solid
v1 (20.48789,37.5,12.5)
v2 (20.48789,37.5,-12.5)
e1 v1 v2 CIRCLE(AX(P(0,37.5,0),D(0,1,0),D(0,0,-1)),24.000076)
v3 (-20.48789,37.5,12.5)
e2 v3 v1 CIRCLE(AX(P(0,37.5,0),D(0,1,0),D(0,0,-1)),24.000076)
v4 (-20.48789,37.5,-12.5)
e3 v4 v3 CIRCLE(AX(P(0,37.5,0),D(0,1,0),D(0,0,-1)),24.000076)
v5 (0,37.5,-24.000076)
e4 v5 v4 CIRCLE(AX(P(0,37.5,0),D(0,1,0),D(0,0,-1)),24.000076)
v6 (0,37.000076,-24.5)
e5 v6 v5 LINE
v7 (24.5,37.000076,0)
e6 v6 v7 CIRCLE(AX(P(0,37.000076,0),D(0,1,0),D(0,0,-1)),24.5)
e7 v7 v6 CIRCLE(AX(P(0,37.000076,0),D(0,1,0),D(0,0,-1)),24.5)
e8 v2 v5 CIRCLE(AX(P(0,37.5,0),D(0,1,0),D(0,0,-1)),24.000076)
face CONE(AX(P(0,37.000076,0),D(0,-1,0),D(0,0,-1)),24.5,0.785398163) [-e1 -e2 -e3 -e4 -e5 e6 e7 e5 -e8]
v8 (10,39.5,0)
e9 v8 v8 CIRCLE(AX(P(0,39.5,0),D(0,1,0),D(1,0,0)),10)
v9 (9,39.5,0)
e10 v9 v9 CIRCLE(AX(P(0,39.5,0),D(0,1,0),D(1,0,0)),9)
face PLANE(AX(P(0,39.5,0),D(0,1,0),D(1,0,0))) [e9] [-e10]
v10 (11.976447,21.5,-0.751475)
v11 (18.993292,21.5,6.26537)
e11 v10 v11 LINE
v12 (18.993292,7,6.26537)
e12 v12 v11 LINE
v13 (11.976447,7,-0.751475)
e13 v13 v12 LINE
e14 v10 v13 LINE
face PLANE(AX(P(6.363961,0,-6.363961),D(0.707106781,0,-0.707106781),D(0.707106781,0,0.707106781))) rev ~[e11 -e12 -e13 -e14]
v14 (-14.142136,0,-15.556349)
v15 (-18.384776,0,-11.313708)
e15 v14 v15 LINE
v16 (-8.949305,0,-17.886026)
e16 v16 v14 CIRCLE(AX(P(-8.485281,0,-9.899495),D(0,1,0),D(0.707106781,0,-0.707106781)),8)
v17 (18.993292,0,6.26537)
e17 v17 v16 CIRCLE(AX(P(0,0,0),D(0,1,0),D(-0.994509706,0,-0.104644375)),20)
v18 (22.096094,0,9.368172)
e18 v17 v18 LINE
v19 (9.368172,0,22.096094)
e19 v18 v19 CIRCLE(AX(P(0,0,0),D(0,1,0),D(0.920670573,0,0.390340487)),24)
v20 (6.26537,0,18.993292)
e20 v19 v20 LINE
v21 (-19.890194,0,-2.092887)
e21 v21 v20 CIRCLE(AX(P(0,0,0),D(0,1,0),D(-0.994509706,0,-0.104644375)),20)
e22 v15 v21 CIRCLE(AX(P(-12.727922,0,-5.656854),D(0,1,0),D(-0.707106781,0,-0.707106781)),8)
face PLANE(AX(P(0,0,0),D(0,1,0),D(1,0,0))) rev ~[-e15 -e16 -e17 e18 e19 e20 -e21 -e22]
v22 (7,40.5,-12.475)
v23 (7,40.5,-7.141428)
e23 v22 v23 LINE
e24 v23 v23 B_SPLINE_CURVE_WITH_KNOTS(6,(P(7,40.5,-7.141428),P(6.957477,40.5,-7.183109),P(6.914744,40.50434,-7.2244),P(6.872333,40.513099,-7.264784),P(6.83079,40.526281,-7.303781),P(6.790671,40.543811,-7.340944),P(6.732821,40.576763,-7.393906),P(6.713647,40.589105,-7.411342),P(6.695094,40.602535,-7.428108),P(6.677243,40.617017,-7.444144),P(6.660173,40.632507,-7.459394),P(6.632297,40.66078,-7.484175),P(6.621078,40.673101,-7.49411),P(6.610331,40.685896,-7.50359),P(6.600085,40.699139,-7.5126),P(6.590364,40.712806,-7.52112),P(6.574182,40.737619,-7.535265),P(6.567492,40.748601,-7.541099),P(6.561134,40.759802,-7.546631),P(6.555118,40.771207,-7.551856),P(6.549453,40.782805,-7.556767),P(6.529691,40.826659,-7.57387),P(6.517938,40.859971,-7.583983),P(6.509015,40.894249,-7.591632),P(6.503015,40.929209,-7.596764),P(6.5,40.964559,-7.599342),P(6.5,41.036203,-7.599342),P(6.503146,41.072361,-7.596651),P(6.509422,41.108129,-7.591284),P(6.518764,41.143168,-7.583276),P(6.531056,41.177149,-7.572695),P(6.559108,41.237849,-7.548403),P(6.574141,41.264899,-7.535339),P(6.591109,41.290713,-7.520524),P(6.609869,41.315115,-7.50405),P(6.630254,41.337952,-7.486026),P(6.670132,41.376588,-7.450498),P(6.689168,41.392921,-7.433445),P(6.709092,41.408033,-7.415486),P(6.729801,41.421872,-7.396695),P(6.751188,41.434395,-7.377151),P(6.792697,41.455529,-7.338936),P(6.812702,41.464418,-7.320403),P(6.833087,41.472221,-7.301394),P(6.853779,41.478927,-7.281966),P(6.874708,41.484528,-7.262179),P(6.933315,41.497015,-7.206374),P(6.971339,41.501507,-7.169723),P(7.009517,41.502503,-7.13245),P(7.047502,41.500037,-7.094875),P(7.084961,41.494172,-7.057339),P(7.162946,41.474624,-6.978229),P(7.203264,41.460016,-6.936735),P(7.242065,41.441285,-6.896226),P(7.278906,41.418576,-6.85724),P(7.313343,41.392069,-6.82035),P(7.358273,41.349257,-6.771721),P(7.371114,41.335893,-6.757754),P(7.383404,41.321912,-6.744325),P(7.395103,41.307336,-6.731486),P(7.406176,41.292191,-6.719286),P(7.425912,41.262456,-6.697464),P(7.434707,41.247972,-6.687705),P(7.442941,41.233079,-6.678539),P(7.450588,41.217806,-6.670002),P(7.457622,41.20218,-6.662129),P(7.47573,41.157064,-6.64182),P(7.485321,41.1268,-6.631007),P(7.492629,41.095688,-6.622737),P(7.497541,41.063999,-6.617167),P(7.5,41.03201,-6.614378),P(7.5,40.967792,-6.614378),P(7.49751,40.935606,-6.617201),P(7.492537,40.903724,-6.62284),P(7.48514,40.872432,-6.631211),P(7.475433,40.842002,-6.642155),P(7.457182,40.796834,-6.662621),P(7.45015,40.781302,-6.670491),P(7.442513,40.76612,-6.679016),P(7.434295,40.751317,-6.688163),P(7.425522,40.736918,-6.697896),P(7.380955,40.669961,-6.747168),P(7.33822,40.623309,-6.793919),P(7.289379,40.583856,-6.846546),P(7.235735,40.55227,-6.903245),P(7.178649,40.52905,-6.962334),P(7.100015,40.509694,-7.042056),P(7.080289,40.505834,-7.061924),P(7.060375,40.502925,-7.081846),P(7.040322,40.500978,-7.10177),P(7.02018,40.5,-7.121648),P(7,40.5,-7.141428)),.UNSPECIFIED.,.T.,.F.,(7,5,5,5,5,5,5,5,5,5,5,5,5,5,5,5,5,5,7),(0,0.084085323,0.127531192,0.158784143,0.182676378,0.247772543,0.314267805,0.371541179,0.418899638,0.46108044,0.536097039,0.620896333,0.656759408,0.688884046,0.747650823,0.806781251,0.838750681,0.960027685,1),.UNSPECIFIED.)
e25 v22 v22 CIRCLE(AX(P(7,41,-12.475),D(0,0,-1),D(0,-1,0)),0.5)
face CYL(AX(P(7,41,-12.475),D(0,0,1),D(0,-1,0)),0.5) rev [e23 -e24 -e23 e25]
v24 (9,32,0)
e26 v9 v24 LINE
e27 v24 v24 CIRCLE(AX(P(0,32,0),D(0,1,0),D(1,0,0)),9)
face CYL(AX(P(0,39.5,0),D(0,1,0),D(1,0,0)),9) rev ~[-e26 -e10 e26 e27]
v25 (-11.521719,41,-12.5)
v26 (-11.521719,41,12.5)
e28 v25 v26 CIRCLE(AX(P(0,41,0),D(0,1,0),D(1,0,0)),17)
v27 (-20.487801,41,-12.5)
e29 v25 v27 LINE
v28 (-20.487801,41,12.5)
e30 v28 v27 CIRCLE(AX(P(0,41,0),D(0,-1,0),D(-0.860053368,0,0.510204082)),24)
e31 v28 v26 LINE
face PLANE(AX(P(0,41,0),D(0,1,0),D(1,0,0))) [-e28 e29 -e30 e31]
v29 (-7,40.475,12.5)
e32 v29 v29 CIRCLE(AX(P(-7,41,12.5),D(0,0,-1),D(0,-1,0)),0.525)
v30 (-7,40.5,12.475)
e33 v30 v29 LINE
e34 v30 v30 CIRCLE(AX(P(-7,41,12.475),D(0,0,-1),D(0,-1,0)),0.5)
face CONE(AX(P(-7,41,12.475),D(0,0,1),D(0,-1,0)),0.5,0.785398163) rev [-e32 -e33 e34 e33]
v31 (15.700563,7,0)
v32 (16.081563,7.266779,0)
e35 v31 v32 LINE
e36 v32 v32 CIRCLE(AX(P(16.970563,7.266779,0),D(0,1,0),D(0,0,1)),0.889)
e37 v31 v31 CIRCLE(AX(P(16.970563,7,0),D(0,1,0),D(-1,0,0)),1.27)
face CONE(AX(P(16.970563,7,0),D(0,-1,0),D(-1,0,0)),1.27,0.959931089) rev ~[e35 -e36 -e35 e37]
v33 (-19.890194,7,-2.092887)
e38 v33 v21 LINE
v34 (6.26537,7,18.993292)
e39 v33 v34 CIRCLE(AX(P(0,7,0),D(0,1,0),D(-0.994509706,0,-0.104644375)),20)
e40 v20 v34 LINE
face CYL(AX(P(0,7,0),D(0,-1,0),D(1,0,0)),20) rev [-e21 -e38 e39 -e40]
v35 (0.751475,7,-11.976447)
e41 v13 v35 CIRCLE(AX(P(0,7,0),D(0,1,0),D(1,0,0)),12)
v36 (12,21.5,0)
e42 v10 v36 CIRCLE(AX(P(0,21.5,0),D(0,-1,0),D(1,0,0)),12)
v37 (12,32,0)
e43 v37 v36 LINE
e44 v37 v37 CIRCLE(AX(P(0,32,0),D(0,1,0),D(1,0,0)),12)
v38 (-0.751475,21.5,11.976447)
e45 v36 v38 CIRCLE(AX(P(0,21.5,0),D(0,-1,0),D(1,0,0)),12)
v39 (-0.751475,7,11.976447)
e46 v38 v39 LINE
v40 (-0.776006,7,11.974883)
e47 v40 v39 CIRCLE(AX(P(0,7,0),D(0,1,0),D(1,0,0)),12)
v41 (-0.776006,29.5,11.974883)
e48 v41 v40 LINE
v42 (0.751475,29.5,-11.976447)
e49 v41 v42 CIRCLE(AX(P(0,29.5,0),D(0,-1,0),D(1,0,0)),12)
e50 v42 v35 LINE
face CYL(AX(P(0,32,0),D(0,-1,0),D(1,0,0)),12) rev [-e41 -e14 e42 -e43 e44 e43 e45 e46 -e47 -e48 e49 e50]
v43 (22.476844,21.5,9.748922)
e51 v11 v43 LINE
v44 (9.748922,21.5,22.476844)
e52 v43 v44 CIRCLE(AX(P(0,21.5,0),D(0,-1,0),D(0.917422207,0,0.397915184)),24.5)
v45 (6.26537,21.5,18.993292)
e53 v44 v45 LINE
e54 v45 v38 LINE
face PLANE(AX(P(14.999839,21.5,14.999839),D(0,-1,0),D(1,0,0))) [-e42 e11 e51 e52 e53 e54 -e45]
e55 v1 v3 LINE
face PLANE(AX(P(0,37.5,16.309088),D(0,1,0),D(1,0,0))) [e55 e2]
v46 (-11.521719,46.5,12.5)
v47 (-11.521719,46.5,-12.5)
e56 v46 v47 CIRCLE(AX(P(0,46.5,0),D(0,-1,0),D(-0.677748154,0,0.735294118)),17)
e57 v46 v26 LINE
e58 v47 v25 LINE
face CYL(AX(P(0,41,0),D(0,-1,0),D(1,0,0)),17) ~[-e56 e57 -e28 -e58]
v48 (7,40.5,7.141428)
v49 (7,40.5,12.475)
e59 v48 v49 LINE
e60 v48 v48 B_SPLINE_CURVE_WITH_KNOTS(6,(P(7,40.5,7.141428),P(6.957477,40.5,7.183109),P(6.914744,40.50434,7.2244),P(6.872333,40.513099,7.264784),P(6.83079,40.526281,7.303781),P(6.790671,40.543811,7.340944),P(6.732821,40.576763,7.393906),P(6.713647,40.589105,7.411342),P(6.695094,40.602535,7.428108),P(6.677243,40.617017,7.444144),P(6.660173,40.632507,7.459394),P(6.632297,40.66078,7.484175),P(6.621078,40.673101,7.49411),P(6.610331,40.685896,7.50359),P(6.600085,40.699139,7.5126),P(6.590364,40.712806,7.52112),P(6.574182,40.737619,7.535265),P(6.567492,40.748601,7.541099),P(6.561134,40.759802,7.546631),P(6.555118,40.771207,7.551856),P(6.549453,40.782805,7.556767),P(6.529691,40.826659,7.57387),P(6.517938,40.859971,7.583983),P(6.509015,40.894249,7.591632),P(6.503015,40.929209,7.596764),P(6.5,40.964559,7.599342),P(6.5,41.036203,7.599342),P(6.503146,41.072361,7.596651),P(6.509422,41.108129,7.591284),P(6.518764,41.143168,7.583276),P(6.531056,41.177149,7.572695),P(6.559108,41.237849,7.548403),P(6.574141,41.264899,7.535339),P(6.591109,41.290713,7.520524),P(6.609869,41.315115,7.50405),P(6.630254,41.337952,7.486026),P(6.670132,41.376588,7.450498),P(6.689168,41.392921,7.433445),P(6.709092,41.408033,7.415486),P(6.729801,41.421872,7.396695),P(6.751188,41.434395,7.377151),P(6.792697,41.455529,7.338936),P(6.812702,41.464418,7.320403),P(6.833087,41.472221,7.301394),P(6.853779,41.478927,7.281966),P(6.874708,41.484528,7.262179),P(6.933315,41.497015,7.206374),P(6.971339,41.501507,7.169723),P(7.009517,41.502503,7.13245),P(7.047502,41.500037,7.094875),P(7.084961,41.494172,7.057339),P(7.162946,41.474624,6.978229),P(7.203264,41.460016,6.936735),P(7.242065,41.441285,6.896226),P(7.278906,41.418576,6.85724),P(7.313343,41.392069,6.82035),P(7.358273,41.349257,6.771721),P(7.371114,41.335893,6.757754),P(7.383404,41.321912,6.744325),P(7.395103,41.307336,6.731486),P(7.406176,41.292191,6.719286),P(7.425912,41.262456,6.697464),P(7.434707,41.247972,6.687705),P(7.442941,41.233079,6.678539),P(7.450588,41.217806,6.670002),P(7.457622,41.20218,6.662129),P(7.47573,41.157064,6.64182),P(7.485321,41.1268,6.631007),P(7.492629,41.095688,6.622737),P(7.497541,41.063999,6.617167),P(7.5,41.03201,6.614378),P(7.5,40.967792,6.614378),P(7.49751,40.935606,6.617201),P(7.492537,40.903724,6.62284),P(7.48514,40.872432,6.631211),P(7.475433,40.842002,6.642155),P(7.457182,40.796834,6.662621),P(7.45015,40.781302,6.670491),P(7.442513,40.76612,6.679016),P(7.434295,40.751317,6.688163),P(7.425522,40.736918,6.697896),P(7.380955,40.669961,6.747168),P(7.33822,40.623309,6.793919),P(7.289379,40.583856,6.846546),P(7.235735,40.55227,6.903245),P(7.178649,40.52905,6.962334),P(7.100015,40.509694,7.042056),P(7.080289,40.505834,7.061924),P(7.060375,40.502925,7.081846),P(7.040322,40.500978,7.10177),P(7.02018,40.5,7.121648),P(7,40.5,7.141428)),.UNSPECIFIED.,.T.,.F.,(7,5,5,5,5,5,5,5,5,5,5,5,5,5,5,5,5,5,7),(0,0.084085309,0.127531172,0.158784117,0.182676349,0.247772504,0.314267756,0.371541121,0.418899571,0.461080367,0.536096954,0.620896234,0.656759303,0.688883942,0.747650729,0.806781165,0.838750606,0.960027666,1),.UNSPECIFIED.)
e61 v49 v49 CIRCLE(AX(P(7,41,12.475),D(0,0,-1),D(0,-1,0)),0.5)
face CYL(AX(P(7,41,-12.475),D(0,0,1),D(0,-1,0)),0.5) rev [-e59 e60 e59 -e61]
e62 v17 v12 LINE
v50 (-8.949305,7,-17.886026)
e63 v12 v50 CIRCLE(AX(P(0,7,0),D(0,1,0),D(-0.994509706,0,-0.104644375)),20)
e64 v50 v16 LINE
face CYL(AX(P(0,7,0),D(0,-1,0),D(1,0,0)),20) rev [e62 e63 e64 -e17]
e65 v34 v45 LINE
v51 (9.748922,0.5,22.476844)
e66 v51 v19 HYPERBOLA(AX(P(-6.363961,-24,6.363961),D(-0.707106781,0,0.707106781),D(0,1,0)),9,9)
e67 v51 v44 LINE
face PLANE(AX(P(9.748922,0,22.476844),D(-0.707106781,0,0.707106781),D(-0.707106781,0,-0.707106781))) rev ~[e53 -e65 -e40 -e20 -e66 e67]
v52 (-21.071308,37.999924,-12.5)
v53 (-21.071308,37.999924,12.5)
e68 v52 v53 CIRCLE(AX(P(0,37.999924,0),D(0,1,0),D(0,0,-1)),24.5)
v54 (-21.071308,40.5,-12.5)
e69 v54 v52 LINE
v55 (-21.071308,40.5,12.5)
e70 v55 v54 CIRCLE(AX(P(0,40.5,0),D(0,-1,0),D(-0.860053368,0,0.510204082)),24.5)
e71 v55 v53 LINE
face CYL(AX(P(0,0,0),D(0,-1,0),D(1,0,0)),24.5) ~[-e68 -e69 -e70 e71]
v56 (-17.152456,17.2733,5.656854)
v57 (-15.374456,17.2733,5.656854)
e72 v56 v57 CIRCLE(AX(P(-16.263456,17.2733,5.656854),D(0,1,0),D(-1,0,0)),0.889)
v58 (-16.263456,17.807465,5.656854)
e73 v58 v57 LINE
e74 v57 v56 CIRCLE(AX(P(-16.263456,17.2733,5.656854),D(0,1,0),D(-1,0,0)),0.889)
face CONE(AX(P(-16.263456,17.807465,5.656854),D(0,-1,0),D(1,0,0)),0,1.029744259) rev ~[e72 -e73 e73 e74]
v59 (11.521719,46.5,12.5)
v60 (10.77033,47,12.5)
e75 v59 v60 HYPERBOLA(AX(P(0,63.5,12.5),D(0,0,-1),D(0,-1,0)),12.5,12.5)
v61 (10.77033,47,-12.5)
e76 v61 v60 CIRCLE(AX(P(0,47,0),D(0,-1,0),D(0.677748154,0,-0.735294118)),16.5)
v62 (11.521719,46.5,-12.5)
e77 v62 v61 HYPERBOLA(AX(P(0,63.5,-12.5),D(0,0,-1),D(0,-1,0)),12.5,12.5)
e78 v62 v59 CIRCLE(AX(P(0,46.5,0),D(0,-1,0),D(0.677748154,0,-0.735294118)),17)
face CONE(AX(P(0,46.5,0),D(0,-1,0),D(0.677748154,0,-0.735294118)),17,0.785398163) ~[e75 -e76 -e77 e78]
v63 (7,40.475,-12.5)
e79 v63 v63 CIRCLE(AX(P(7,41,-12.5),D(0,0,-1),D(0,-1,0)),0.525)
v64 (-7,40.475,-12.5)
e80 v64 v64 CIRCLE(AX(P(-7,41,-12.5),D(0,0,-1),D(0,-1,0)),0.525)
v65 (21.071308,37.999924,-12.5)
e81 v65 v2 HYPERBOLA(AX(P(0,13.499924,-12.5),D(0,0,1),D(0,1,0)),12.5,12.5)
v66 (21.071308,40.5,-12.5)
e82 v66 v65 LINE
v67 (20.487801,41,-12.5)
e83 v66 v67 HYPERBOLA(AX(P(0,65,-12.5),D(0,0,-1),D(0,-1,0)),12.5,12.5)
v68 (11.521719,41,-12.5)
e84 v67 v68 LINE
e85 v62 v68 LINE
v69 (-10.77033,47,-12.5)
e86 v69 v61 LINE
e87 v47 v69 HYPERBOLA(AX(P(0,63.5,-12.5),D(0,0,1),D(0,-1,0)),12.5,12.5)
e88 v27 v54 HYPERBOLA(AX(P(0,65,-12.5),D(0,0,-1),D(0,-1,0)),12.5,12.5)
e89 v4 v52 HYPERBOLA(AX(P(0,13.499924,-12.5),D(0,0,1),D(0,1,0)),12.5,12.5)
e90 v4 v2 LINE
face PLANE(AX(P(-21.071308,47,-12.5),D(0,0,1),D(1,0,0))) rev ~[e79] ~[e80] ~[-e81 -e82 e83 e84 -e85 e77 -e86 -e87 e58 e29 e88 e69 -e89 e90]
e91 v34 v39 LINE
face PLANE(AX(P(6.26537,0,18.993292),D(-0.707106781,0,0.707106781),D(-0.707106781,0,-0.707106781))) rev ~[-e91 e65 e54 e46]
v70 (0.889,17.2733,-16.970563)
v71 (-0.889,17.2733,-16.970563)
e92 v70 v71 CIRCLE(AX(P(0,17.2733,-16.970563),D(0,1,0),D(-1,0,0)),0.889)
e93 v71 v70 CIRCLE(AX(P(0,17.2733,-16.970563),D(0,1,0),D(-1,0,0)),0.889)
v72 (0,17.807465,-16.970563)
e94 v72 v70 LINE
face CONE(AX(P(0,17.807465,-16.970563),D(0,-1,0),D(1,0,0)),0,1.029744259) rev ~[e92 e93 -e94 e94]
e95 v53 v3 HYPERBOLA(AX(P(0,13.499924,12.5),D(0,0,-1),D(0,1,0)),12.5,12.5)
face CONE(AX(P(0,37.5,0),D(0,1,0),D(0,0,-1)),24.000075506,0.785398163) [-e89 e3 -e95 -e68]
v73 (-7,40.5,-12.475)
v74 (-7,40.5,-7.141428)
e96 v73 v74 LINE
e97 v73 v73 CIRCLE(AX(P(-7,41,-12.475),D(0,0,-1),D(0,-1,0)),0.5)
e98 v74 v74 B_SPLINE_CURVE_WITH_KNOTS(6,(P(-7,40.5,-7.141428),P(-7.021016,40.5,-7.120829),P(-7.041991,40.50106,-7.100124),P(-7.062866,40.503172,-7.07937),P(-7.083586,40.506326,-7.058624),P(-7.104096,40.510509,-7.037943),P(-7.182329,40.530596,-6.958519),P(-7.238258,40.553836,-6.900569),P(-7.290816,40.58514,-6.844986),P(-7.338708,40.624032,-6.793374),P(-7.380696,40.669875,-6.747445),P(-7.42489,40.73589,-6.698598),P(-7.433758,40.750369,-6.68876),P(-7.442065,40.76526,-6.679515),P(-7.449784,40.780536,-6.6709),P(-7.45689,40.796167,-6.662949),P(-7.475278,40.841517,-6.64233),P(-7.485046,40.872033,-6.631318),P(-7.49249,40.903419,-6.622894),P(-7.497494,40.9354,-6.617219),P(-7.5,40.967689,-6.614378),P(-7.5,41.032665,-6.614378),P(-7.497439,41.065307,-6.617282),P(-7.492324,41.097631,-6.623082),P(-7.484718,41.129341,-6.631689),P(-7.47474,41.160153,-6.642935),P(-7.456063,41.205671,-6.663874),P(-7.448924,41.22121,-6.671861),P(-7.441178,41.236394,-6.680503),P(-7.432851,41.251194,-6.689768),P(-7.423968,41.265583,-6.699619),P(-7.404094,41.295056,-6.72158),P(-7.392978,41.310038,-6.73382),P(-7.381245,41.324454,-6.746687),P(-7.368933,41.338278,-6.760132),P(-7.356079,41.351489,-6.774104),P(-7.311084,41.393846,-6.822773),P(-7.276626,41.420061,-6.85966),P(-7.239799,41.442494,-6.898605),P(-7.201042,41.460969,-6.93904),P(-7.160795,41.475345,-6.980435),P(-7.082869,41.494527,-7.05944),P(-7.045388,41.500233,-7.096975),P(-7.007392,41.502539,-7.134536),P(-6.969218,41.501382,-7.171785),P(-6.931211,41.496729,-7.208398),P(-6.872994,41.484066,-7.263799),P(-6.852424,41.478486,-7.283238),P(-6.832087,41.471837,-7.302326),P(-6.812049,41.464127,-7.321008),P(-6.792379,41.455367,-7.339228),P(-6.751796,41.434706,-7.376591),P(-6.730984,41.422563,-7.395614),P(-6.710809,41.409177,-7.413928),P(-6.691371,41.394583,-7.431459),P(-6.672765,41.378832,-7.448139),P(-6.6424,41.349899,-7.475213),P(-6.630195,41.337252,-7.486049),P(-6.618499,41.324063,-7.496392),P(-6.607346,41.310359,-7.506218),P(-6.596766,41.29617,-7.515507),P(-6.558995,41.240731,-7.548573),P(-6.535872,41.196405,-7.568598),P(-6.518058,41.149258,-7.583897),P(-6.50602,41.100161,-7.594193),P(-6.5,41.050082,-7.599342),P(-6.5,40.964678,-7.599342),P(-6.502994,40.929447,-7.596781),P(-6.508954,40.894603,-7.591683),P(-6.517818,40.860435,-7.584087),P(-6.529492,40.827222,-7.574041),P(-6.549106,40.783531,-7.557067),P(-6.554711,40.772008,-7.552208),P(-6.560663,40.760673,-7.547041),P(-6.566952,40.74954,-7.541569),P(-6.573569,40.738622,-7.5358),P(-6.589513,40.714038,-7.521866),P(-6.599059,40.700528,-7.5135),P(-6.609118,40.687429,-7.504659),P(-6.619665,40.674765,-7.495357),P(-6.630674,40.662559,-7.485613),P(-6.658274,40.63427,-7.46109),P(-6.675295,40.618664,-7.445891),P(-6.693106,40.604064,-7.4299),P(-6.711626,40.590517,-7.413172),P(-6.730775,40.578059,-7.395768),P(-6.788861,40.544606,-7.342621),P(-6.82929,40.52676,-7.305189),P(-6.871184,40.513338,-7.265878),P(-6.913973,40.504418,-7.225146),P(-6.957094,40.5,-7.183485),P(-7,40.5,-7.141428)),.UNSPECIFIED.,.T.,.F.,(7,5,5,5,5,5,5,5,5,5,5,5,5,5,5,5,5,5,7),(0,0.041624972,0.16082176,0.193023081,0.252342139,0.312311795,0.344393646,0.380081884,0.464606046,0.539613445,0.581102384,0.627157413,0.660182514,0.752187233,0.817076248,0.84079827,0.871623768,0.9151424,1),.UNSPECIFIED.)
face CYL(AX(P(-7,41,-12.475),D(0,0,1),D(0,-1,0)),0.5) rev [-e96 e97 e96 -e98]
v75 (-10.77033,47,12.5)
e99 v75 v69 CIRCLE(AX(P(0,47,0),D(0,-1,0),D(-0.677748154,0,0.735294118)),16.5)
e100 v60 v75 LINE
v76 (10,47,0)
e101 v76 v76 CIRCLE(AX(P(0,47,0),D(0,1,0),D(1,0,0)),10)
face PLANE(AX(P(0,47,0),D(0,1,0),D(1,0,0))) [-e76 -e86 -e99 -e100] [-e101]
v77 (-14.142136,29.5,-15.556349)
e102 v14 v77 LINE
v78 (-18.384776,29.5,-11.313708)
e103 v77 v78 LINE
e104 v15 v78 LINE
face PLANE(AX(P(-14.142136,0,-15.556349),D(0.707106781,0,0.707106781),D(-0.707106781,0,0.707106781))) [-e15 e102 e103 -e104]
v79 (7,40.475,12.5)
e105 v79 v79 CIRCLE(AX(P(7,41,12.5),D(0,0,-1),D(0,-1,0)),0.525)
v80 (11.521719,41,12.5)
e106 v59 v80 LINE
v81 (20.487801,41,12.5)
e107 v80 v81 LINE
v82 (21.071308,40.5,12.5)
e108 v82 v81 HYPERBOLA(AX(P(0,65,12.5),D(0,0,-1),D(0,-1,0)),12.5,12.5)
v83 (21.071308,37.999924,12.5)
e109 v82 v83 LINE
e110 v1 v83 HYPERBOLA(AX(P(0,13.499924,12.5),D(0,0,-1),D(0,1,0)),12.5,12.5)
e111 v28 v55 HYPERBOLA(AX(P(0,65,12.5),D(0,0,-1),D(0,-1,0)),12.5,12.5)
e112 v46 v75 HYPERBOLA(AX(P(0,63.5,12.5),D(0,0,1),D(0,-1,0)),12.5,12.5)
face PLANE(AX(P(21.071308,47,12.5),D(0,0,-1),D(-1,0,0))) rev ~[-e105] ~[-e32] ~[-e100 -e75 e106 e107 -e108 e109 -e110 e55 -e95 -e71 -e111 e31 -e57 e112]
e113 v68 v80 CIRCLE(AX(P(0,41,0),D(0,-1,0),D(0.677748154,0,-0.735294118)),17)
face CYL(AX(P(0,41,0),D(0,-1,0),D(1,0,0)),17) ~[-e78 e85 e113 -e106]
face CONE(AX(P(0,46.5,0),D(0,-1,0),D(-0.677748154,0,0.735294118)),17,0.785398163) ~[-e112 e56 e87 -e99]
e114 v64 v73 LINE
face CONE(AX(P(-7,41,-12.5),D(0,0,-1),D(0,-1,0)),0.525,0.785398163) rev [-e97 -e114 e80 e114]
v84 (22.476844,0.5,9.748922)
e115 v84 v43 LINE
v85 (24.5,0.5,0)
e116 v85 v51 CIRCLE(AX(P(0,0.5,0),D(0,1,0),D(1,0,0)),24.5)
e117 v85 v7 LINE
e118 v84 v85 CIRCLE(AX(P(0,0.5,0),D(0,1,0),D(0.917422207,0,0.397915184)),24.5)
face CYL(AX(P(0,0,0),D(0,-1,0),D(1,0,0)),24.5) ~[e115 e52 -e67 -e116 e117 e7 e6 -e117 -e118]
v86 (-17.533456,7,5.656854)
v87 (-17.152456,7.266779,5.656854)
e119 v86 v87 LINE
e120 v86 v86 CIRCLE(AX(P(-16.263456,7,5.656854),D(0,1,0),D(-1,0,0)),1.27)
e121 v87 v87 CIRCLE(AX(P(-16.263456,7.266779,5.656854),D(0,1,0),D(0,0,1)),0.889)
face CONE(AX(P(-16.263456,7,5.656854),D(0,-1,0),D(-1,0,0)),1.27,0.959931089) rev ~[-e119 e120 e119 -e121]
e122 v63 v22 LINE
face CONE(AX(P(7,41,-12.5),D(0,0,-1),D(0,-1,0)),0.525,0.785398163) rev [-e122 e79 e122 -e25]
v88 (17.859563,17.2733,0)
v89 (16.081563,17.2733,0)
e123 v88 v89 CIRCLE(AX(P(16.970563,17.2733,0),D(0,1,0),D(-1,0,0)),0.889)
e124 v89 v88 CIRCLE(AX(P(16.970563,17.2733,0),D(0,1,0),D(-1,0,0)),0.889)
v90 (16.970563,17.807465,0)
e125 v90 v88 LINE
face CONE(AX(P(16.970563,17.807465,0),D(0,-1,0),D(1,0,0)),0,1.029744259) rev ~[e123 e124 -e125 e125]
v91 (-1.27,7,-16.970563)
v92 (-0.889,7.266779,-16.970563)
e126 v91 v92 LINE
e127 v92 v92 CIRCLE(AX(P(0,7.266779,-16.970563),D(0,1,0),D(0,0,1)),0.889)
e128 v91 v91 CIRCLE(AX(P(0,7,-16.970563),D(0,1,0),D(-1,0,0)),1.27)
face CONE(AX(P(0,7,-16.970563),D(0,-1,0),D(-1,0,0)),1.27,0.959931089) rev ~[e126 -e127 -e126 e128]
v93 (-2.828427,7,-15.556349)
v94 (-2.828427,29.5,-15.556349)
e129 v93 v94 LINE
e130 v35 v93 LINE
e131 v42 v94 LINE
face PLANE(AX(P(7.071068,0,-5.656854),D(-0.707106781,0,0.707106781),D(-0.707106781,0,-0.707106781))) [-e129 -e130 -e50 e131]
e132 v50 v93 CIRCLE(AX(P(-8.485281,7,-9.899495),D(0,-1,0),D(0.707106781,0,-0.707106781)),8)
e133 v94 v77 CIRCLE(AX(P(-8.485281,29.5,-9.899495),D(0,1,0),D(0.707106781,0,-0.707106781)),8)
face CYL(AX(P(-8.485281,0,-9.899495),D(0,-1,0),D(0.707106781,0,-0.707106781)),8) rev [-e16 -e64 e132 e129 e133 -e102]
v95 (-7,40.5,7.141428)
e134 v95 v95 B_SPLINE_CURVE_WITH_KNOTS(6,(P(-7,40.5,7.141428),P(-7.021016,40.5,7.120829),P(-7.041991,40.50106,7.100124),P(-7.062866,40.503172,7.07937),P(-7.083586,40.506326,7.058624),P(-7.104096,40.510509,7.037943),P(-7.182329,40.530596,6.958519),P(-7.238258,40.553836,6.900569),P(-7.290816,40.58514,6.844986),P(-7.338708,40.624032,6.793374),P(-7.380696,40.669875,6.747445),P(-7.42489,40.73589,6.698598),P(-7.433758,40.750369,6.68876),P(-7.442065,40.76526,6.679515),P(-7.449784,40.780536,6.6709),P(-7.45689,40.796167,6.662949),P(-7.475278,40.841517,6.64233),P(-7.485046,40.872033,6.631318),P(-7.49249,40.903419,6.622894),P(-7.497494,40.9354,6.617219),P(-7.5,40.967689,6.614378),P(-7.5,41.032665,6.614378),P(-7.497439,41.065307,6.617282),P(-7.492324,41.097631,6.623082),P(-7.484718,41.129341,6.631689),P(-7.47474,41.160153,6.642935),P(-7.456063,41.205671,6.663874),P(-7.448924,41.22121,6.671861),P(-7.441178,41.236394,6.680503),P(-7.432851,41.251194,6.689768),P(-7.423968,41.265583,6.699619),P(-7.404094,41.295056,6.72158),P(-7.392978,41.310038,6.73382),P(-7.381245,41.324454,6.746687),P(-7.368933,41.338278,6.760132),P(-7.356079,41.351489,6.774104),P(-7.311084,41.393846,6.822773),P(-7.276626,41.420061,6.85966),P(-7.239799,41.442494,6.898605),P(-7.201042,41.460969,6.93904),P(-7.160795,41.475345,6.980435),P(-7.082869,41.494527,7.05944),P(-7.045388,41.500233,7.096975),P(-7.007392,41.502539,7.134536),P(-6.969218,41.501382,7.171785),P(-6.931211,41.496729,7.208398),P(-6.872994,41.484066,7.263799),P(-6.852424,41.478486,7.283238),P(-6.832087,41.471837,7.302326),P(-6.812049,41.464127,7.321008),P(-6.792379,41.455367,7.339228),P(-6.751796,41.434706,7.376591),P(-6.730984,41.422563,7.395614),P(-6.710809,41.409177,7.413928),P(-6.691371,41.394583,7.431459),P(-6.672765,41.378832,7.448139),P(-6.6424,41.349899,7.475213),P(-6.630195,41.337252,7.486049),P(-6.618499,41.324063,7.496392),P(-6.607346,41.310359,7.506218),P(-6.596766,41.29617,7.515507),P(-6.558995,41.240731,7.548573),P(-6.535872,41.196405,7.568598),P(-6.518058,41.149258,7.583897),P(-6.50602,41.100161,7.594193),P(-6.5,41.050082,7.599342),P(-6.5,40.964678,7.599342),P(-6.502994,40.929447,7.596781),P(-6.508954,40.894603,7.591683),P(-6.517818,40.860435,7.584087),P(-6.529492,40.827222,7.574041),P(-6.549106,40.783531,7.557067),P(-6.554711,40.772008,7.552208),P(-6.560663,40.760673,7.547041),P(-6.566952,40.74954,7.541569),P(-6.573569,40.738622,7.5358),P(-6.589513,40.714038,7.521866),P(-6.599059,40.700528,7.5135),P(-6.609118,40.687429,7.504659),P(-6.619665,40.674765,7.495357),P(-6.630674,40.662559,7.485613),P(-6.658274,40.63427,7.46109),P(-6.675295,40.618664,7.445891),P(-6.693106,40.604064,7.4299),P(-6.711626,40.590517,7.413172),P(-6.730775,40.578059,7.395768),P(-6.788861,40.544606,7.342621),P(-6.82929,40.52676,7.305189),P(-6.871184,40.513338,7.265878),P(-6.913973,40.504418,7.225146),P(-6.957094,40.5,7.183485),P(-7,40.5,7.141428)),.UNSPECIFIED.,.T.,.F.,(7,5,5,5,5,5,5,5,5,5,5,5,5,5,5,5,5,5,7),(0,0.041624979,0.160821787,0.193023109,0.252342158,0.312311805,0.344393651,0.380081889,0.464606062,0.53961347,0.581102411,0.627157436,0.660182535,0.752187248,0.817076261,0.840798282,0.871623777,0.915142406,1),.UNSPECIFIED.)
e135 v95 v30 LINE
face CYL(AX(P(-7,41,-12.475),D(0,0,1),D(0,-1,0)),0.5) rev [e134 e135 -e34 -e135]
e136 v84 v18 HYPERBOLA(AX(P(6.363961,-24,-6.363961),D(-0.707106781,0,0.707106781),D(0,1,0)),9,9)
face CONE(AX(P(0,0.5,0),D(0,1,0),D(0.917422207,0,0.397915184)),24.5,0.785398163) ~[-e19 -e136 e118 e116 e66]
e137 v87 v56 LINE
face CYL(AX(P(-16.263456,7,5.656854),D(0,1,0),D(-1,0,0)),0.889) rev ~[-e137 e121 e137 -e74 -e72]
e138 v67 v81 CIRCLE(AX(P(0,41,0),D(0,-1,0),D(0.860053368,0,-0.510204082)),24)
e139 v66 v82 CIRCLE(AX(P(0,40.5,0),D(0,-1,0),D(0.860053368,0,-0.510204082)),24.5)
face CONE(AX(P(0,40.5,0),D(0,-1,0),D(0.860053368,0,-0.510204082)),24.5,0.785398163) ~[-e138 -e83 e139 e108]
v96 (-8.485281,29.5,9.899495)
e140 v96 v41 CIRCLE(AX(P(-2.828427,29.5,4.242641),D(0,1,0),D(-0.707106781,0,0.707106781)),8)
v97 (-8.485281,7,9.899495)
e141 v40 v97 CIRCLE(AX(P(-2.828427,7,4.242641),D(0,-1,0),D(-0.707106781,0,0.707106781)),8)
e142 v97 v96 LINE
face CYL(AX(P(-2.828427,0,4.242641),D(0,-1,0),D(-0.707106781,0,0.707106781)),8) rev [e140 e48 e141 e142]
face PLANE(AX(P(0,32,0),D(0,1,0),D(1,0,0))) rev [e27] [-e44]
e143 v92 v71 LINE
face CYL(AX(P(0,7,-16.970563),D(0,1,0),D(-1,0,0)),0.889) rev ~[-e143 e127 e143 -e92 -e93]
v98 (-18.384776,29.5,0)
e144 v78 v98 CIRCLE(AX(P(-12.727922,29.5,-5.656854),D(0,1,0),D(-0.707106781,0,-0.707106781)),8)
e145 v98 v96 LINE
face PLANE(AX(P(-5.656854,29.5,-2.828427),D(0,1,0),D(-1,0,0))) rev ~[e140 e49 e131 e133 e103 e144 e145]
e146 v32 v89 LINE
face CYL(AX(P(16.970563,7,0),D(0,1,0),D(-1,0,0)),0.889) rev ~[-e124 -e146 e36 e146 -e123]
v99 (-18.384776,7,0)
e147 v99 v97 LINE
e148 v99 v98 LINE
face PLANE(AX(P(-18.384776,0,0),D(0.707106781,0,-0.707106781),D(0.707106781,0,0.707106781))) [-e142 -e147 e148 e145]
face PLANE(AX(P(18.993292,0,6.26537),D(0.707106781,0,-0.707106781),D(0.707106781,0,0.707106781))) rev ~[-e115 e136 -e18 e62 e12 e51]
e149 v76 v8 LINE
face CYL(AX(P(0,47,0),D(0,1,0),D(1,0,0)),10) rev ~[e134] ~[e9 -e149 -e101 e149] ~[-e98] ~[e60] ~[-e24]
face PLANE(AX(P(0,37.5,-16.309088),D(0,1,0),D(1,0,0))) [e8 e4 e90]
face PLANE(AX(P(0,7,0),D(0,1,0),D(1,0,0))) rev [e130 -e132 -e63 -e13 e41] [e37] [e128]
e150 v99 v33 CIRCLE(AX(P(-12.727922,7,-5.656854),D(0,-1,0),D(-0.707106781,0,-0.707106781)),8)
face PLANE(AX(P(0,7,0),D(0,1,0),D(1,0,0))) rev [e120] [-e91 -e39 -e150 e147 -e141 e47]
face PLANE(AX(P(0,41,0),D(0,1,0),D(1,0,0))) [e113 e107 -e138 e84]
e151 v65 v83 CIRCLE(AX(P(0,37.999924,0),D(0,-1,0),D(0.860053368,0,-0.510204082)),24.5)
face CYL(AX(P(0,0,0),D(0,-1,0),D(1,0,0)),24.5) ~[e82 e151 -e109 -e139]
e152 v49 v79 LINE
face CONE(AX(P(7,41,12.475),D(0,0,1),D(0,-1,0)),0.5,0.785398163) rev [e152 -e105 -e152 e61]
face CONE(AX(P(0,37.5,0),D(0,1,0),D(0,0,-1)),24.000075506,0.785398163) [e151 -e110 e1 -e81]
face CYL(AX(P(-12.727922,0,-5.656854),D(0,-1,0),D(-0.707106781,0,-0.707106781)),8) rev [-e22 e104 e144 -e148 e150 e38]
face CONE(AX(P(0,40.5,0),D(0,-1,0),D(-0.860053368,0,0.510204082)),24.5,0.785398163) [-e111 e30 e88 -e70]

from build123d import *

# Parameters (mm, degrees)
SKETCH_1_R                     = 24.5
EXTRUDE_1_DEPTH                = 47
CUT_EXTRUDE_2_DEPTH            = 9.5
SKETCH_4_R                     = 10
CUT_EXTRUDE_4_DEPTH            = 7.5
CUT_EXTRUDE_START              = 3.5
SKETCH_5_OUTSIDE_W             = 67.746
SKETCH_5_OUTSIDE_H             = 67.746
SKETCH_5_OUTSIDE_R             = 17
CUT_EXTRUDE_5_DEPTH            = 7
SKETCH_6_R                     = 9
CUT_EXTRUDE_6_DEPTH            = 40.5
CUT_EXTRUDE_10_DEPTH           = 29.5
CUT_EXTRUDE_11_DEPTH           = 21.5
HOLE_WIZARD_2_561_D            = 1.778
HOLE_WIZARD_2_561_DEPTH        = 10.2733
HOLE_WIZARD_2_561_CSINK_D      = 2.54
HOLE_WIZARD_2_561_CSINK_ANGLE  = 110
HOLE_WIZARD_2_561_TIP          = 0.53416509
HOLE_WIZARD_1_0_1_1_AT_2_COUNT = 2
HOLE_WIZARD_1_0_1_1_AT_2_PITCH = 14
CHAMFER_1_SIZE                 = 0.5


with BuildPart() as part:
    # Эскиз1 → Бобышка-Вытянуть1 (new body)
    with BuildSketch(Plane(origin=(0, 0, 0), x_dir=(1, 0, 0), z_dir=(0, 1, 0))):
        Circle(SKETCH_1_R)
    extrude(amount=EXTRUDE_1_DEPTH)

    # Эскиз2 → Вырез-Вытянуть2 (cut)
    with BuildSketch(Plane(origin=(0, 47, 0), x_dir=(1, 0, 0), z_dir=(0, 1, 0))):
        with BuildLine():
            ThreePointArc((21.071307506, 12.5), (0, 24.5), (-21.071307506, 12.5))
            Line((-21.071307506, 12.5), (21.071307506, 12.5))
        make_face()
        with BuildLine():
            Line((21.071307506, -12.5), (-21.071307506, -12.5))
            ThreePointArc((-21.071307506, -12.5), (0, -24.5), (21.071307506, -12.5))
        make_face()
    extrude(amount=-CUT_EXTRUDE_2_DEPTH, mode=Mode.SUBTRACT)

    # Эскиз4 → Вырез-Вытянуть4 (cut)
    with BuildSketch(Plane(origin=(0, 47, 0), x_dir=(1, 0, 0), z_dir=(0, 1, 0))):
        Circle(SKETCH_4_R)
    extrude(amount=-CUT_EXTRUDE_4_DEPTH, mode=Mode.SUBTRACT)

    # Эскиз5 outside → Вырез-Вытянуть5 (cut, through all)
    with BuildSketch(Plane(origin=(0, 37.5, 0), x_dir=(1, 0, 0), z_dir=(0, 1, 0)).offset(CUT_EXTRUDE_START)):
        Rectangle(SKETCH_5_OUTSIDE_W, SKETCH_5_OUTSIDE_H)
        Circle(SKETCH_5_OUTSIDE_R, mode=Mode.SUBTRACT)
    extrude(amount=CUT_EXTRUDE_5_DEPTH, mode=Mode.SUBTRACT)

    # Эскиз6 → Вырез-Вытянуть6 (cut, through all)
    with BuildSketch(Plane(origin=(0, 39.5, 0), x_dir=(1, 0, 0), z_dir=(0, 1, 0))):
        Circle(SKETCH_6_R)
    extrude(amount=-CUT_EXTRUDE_6_DEPTH, mode=Mode.SUBTRACT)

    # Эскиз7 → Вырез-Повернуть1 (revolve, cut)
    with BuildSketch(Plane.XY):
        Polygon((0, 32), (12, 32), (12, 7), (20, 7), (20, 0), (0, 0), align=None)
    revolve(axis=Axis((0, 0, 0), (0, 1, 0)), mode=Mode.SUBTRACT)

    # Эскиз13 → Вырез-Вытянуть10 (cut)
    with BuildSketch(Plane.XZ):
        with BuildLine():
            Line((2.828427125, 9.899494937), (7.071067812, 5.656854249))
            ThreePointArc((7.071067812, 5.656854249), (9.414213562, 0), (7.071067812, -5.656854249))
            Line((7.071067812, -5.656854249), (-2.828427125, -15.556349186))
            ThreePointArc((-2.828427125, -15.556349186), (-8.485281374, -17.899494937), (-14.142135624, -15.556349186))
            Line((-14.142135624, -15.556349186), (-18.384776311, -11.313708499))
            ThreePointArc((-18.384776311, -11.313708499), (-20.727922061, -5.656854249), (-18.384776311, 0))
            Line((-18.384776311, 0), (-8.485281374, 9.899494937))
            ThreePointArc((-8.485281374, 9.899494937), (-2.828427125, 12.242640687), (2.828427125, 9.899494937))
        make_face()
    extrude(amount=-CUT_EXTRUDE_10_DEPTH, mode=Mode.SUBTRACT)

    # Эскиз14 → Вырез-Вытянуть11 (cut)
    with BuildSketch(Plane.XZ):
        with BuildLine():
            Line((9.748922014, 22.476844075), (6.26536991, 18.993291971))
            ThreePointArc((6.26536991, 18.993291971), (14.142135624, 14.142135624), (18.993291971, 6.26536991))
            Line((18.993291971, 6.26536991), (22.476844075, 9.748922014))
            ThreePointArc((22.476844075, 9.748922014), (17.324116139, 17.324116139), (9.748922014, 22.476844075))
        make_face()
        with BuildLine():
            Line((6.26536991, 18.993291971), (-6.363961031, 6.363961031))
            Line((-6.363961031, 6.363961031), (6.363961031, -6.363961031))
            Line((6.363961031, -6.363961031), (18.993291971, 6.26536991))
            ThreePointArc((18.993291971, 6.26536991), (14.142135624, 14.142135624), (6.26536991, 18.993291971))
        make_face()
    extrude(amount=-CUT_EXTRUDE_11_DEPTH, mode=Mode.SUBTRACT)

    # Отверстие обработанное метчиком #2-561
    with Locations(Plane.XZ.offset(-7)):
        with Locations((0, -16.970562748), (16.970562748, 0), (-16.263455967, 5.656854249)):
            CounterSinkHole(HOLE_WIZARD_2_561_D / 2, HOLE_WIZARD_2_561_CSINK_D / 2, depth=HOLE_WIZARD_2_561_DEPTH, counter_sink_angle=HOLE_WIZARD_2_561_CSINK_ANGLE)
            with Locations((0, 0, -(HOLE_WIZARD_2_561_DEPTH + HOLE_WIZARD_2_561_TIP / 2))):  # 118° drill point
                Cone(0, HOLE_WIZARD_2_561_D / 2, HOLE_WIZARD_2_561_TIP, mode=Mode.SUBTRACT)

    # Эскиз23 → Диаметр отверстия Ø1.0 (1)1 (revolve, cut)
    with BuildSketch(Plane(origin=(-7, 41, 12.5), x_dir=(0, -1, 0), z_dir=(1, 0, 0))):
        Polygon((0, 0), (0, 25), (0.525, 25), (0.5, 24.975), (0.5, 0.025), (0.525, 0), align=None)
    hole_wizard_1_0_1_1 = revolve(axis=Axis((-7, 41, 18.85), (0, 0, -1)), mode=Mode.SUBTRACT)

    # Диаметр отверстия Ø1.0 (1)1 at 2: Диаметр отверстия Ø1.0 (1)1 ×2
    with Locations(*[(i * HOLE_WIZARD_1_0_1_1_AT_2_PITCH, 0, 0) for i in range(1, HOLE_WIZARD_1_0_1_1_AT_2_COUNT)]):
        add(hole_wizard_1_0_1_1, mode=Mode.SUBTRACT)

    # Эскиз24 → Вырез-Повернуть2 (revolve, cut)
    with BuildSketch(Plane(origin=(0, 0, 0), x_dir=(0, 0, -1), z_dir=(1, 0, 0))):
        Polygon((24.5, 37.000075506), (24.000075506, 37.5), (24.5, 37.999924494), align=None)
    revolve(axis=Axis((0, 0, 0), (0, 1, 0)), mode=Mode.SUBTRACT)

    # Фаска1
    chamfer_1_edges = [part.edges().sort_by_distance(p)[0] for p in [
        (-20.482902496, 0, -13.442496246),
        (-17, 47, 0),
        (17, 47, 0),
        (-24.5, 41, 0),
        (24.5, 41, 0),
    ]]
    chamfer(chamfer_1_edges, length=CHAMFER_1_SIZE)


solid = part.part
